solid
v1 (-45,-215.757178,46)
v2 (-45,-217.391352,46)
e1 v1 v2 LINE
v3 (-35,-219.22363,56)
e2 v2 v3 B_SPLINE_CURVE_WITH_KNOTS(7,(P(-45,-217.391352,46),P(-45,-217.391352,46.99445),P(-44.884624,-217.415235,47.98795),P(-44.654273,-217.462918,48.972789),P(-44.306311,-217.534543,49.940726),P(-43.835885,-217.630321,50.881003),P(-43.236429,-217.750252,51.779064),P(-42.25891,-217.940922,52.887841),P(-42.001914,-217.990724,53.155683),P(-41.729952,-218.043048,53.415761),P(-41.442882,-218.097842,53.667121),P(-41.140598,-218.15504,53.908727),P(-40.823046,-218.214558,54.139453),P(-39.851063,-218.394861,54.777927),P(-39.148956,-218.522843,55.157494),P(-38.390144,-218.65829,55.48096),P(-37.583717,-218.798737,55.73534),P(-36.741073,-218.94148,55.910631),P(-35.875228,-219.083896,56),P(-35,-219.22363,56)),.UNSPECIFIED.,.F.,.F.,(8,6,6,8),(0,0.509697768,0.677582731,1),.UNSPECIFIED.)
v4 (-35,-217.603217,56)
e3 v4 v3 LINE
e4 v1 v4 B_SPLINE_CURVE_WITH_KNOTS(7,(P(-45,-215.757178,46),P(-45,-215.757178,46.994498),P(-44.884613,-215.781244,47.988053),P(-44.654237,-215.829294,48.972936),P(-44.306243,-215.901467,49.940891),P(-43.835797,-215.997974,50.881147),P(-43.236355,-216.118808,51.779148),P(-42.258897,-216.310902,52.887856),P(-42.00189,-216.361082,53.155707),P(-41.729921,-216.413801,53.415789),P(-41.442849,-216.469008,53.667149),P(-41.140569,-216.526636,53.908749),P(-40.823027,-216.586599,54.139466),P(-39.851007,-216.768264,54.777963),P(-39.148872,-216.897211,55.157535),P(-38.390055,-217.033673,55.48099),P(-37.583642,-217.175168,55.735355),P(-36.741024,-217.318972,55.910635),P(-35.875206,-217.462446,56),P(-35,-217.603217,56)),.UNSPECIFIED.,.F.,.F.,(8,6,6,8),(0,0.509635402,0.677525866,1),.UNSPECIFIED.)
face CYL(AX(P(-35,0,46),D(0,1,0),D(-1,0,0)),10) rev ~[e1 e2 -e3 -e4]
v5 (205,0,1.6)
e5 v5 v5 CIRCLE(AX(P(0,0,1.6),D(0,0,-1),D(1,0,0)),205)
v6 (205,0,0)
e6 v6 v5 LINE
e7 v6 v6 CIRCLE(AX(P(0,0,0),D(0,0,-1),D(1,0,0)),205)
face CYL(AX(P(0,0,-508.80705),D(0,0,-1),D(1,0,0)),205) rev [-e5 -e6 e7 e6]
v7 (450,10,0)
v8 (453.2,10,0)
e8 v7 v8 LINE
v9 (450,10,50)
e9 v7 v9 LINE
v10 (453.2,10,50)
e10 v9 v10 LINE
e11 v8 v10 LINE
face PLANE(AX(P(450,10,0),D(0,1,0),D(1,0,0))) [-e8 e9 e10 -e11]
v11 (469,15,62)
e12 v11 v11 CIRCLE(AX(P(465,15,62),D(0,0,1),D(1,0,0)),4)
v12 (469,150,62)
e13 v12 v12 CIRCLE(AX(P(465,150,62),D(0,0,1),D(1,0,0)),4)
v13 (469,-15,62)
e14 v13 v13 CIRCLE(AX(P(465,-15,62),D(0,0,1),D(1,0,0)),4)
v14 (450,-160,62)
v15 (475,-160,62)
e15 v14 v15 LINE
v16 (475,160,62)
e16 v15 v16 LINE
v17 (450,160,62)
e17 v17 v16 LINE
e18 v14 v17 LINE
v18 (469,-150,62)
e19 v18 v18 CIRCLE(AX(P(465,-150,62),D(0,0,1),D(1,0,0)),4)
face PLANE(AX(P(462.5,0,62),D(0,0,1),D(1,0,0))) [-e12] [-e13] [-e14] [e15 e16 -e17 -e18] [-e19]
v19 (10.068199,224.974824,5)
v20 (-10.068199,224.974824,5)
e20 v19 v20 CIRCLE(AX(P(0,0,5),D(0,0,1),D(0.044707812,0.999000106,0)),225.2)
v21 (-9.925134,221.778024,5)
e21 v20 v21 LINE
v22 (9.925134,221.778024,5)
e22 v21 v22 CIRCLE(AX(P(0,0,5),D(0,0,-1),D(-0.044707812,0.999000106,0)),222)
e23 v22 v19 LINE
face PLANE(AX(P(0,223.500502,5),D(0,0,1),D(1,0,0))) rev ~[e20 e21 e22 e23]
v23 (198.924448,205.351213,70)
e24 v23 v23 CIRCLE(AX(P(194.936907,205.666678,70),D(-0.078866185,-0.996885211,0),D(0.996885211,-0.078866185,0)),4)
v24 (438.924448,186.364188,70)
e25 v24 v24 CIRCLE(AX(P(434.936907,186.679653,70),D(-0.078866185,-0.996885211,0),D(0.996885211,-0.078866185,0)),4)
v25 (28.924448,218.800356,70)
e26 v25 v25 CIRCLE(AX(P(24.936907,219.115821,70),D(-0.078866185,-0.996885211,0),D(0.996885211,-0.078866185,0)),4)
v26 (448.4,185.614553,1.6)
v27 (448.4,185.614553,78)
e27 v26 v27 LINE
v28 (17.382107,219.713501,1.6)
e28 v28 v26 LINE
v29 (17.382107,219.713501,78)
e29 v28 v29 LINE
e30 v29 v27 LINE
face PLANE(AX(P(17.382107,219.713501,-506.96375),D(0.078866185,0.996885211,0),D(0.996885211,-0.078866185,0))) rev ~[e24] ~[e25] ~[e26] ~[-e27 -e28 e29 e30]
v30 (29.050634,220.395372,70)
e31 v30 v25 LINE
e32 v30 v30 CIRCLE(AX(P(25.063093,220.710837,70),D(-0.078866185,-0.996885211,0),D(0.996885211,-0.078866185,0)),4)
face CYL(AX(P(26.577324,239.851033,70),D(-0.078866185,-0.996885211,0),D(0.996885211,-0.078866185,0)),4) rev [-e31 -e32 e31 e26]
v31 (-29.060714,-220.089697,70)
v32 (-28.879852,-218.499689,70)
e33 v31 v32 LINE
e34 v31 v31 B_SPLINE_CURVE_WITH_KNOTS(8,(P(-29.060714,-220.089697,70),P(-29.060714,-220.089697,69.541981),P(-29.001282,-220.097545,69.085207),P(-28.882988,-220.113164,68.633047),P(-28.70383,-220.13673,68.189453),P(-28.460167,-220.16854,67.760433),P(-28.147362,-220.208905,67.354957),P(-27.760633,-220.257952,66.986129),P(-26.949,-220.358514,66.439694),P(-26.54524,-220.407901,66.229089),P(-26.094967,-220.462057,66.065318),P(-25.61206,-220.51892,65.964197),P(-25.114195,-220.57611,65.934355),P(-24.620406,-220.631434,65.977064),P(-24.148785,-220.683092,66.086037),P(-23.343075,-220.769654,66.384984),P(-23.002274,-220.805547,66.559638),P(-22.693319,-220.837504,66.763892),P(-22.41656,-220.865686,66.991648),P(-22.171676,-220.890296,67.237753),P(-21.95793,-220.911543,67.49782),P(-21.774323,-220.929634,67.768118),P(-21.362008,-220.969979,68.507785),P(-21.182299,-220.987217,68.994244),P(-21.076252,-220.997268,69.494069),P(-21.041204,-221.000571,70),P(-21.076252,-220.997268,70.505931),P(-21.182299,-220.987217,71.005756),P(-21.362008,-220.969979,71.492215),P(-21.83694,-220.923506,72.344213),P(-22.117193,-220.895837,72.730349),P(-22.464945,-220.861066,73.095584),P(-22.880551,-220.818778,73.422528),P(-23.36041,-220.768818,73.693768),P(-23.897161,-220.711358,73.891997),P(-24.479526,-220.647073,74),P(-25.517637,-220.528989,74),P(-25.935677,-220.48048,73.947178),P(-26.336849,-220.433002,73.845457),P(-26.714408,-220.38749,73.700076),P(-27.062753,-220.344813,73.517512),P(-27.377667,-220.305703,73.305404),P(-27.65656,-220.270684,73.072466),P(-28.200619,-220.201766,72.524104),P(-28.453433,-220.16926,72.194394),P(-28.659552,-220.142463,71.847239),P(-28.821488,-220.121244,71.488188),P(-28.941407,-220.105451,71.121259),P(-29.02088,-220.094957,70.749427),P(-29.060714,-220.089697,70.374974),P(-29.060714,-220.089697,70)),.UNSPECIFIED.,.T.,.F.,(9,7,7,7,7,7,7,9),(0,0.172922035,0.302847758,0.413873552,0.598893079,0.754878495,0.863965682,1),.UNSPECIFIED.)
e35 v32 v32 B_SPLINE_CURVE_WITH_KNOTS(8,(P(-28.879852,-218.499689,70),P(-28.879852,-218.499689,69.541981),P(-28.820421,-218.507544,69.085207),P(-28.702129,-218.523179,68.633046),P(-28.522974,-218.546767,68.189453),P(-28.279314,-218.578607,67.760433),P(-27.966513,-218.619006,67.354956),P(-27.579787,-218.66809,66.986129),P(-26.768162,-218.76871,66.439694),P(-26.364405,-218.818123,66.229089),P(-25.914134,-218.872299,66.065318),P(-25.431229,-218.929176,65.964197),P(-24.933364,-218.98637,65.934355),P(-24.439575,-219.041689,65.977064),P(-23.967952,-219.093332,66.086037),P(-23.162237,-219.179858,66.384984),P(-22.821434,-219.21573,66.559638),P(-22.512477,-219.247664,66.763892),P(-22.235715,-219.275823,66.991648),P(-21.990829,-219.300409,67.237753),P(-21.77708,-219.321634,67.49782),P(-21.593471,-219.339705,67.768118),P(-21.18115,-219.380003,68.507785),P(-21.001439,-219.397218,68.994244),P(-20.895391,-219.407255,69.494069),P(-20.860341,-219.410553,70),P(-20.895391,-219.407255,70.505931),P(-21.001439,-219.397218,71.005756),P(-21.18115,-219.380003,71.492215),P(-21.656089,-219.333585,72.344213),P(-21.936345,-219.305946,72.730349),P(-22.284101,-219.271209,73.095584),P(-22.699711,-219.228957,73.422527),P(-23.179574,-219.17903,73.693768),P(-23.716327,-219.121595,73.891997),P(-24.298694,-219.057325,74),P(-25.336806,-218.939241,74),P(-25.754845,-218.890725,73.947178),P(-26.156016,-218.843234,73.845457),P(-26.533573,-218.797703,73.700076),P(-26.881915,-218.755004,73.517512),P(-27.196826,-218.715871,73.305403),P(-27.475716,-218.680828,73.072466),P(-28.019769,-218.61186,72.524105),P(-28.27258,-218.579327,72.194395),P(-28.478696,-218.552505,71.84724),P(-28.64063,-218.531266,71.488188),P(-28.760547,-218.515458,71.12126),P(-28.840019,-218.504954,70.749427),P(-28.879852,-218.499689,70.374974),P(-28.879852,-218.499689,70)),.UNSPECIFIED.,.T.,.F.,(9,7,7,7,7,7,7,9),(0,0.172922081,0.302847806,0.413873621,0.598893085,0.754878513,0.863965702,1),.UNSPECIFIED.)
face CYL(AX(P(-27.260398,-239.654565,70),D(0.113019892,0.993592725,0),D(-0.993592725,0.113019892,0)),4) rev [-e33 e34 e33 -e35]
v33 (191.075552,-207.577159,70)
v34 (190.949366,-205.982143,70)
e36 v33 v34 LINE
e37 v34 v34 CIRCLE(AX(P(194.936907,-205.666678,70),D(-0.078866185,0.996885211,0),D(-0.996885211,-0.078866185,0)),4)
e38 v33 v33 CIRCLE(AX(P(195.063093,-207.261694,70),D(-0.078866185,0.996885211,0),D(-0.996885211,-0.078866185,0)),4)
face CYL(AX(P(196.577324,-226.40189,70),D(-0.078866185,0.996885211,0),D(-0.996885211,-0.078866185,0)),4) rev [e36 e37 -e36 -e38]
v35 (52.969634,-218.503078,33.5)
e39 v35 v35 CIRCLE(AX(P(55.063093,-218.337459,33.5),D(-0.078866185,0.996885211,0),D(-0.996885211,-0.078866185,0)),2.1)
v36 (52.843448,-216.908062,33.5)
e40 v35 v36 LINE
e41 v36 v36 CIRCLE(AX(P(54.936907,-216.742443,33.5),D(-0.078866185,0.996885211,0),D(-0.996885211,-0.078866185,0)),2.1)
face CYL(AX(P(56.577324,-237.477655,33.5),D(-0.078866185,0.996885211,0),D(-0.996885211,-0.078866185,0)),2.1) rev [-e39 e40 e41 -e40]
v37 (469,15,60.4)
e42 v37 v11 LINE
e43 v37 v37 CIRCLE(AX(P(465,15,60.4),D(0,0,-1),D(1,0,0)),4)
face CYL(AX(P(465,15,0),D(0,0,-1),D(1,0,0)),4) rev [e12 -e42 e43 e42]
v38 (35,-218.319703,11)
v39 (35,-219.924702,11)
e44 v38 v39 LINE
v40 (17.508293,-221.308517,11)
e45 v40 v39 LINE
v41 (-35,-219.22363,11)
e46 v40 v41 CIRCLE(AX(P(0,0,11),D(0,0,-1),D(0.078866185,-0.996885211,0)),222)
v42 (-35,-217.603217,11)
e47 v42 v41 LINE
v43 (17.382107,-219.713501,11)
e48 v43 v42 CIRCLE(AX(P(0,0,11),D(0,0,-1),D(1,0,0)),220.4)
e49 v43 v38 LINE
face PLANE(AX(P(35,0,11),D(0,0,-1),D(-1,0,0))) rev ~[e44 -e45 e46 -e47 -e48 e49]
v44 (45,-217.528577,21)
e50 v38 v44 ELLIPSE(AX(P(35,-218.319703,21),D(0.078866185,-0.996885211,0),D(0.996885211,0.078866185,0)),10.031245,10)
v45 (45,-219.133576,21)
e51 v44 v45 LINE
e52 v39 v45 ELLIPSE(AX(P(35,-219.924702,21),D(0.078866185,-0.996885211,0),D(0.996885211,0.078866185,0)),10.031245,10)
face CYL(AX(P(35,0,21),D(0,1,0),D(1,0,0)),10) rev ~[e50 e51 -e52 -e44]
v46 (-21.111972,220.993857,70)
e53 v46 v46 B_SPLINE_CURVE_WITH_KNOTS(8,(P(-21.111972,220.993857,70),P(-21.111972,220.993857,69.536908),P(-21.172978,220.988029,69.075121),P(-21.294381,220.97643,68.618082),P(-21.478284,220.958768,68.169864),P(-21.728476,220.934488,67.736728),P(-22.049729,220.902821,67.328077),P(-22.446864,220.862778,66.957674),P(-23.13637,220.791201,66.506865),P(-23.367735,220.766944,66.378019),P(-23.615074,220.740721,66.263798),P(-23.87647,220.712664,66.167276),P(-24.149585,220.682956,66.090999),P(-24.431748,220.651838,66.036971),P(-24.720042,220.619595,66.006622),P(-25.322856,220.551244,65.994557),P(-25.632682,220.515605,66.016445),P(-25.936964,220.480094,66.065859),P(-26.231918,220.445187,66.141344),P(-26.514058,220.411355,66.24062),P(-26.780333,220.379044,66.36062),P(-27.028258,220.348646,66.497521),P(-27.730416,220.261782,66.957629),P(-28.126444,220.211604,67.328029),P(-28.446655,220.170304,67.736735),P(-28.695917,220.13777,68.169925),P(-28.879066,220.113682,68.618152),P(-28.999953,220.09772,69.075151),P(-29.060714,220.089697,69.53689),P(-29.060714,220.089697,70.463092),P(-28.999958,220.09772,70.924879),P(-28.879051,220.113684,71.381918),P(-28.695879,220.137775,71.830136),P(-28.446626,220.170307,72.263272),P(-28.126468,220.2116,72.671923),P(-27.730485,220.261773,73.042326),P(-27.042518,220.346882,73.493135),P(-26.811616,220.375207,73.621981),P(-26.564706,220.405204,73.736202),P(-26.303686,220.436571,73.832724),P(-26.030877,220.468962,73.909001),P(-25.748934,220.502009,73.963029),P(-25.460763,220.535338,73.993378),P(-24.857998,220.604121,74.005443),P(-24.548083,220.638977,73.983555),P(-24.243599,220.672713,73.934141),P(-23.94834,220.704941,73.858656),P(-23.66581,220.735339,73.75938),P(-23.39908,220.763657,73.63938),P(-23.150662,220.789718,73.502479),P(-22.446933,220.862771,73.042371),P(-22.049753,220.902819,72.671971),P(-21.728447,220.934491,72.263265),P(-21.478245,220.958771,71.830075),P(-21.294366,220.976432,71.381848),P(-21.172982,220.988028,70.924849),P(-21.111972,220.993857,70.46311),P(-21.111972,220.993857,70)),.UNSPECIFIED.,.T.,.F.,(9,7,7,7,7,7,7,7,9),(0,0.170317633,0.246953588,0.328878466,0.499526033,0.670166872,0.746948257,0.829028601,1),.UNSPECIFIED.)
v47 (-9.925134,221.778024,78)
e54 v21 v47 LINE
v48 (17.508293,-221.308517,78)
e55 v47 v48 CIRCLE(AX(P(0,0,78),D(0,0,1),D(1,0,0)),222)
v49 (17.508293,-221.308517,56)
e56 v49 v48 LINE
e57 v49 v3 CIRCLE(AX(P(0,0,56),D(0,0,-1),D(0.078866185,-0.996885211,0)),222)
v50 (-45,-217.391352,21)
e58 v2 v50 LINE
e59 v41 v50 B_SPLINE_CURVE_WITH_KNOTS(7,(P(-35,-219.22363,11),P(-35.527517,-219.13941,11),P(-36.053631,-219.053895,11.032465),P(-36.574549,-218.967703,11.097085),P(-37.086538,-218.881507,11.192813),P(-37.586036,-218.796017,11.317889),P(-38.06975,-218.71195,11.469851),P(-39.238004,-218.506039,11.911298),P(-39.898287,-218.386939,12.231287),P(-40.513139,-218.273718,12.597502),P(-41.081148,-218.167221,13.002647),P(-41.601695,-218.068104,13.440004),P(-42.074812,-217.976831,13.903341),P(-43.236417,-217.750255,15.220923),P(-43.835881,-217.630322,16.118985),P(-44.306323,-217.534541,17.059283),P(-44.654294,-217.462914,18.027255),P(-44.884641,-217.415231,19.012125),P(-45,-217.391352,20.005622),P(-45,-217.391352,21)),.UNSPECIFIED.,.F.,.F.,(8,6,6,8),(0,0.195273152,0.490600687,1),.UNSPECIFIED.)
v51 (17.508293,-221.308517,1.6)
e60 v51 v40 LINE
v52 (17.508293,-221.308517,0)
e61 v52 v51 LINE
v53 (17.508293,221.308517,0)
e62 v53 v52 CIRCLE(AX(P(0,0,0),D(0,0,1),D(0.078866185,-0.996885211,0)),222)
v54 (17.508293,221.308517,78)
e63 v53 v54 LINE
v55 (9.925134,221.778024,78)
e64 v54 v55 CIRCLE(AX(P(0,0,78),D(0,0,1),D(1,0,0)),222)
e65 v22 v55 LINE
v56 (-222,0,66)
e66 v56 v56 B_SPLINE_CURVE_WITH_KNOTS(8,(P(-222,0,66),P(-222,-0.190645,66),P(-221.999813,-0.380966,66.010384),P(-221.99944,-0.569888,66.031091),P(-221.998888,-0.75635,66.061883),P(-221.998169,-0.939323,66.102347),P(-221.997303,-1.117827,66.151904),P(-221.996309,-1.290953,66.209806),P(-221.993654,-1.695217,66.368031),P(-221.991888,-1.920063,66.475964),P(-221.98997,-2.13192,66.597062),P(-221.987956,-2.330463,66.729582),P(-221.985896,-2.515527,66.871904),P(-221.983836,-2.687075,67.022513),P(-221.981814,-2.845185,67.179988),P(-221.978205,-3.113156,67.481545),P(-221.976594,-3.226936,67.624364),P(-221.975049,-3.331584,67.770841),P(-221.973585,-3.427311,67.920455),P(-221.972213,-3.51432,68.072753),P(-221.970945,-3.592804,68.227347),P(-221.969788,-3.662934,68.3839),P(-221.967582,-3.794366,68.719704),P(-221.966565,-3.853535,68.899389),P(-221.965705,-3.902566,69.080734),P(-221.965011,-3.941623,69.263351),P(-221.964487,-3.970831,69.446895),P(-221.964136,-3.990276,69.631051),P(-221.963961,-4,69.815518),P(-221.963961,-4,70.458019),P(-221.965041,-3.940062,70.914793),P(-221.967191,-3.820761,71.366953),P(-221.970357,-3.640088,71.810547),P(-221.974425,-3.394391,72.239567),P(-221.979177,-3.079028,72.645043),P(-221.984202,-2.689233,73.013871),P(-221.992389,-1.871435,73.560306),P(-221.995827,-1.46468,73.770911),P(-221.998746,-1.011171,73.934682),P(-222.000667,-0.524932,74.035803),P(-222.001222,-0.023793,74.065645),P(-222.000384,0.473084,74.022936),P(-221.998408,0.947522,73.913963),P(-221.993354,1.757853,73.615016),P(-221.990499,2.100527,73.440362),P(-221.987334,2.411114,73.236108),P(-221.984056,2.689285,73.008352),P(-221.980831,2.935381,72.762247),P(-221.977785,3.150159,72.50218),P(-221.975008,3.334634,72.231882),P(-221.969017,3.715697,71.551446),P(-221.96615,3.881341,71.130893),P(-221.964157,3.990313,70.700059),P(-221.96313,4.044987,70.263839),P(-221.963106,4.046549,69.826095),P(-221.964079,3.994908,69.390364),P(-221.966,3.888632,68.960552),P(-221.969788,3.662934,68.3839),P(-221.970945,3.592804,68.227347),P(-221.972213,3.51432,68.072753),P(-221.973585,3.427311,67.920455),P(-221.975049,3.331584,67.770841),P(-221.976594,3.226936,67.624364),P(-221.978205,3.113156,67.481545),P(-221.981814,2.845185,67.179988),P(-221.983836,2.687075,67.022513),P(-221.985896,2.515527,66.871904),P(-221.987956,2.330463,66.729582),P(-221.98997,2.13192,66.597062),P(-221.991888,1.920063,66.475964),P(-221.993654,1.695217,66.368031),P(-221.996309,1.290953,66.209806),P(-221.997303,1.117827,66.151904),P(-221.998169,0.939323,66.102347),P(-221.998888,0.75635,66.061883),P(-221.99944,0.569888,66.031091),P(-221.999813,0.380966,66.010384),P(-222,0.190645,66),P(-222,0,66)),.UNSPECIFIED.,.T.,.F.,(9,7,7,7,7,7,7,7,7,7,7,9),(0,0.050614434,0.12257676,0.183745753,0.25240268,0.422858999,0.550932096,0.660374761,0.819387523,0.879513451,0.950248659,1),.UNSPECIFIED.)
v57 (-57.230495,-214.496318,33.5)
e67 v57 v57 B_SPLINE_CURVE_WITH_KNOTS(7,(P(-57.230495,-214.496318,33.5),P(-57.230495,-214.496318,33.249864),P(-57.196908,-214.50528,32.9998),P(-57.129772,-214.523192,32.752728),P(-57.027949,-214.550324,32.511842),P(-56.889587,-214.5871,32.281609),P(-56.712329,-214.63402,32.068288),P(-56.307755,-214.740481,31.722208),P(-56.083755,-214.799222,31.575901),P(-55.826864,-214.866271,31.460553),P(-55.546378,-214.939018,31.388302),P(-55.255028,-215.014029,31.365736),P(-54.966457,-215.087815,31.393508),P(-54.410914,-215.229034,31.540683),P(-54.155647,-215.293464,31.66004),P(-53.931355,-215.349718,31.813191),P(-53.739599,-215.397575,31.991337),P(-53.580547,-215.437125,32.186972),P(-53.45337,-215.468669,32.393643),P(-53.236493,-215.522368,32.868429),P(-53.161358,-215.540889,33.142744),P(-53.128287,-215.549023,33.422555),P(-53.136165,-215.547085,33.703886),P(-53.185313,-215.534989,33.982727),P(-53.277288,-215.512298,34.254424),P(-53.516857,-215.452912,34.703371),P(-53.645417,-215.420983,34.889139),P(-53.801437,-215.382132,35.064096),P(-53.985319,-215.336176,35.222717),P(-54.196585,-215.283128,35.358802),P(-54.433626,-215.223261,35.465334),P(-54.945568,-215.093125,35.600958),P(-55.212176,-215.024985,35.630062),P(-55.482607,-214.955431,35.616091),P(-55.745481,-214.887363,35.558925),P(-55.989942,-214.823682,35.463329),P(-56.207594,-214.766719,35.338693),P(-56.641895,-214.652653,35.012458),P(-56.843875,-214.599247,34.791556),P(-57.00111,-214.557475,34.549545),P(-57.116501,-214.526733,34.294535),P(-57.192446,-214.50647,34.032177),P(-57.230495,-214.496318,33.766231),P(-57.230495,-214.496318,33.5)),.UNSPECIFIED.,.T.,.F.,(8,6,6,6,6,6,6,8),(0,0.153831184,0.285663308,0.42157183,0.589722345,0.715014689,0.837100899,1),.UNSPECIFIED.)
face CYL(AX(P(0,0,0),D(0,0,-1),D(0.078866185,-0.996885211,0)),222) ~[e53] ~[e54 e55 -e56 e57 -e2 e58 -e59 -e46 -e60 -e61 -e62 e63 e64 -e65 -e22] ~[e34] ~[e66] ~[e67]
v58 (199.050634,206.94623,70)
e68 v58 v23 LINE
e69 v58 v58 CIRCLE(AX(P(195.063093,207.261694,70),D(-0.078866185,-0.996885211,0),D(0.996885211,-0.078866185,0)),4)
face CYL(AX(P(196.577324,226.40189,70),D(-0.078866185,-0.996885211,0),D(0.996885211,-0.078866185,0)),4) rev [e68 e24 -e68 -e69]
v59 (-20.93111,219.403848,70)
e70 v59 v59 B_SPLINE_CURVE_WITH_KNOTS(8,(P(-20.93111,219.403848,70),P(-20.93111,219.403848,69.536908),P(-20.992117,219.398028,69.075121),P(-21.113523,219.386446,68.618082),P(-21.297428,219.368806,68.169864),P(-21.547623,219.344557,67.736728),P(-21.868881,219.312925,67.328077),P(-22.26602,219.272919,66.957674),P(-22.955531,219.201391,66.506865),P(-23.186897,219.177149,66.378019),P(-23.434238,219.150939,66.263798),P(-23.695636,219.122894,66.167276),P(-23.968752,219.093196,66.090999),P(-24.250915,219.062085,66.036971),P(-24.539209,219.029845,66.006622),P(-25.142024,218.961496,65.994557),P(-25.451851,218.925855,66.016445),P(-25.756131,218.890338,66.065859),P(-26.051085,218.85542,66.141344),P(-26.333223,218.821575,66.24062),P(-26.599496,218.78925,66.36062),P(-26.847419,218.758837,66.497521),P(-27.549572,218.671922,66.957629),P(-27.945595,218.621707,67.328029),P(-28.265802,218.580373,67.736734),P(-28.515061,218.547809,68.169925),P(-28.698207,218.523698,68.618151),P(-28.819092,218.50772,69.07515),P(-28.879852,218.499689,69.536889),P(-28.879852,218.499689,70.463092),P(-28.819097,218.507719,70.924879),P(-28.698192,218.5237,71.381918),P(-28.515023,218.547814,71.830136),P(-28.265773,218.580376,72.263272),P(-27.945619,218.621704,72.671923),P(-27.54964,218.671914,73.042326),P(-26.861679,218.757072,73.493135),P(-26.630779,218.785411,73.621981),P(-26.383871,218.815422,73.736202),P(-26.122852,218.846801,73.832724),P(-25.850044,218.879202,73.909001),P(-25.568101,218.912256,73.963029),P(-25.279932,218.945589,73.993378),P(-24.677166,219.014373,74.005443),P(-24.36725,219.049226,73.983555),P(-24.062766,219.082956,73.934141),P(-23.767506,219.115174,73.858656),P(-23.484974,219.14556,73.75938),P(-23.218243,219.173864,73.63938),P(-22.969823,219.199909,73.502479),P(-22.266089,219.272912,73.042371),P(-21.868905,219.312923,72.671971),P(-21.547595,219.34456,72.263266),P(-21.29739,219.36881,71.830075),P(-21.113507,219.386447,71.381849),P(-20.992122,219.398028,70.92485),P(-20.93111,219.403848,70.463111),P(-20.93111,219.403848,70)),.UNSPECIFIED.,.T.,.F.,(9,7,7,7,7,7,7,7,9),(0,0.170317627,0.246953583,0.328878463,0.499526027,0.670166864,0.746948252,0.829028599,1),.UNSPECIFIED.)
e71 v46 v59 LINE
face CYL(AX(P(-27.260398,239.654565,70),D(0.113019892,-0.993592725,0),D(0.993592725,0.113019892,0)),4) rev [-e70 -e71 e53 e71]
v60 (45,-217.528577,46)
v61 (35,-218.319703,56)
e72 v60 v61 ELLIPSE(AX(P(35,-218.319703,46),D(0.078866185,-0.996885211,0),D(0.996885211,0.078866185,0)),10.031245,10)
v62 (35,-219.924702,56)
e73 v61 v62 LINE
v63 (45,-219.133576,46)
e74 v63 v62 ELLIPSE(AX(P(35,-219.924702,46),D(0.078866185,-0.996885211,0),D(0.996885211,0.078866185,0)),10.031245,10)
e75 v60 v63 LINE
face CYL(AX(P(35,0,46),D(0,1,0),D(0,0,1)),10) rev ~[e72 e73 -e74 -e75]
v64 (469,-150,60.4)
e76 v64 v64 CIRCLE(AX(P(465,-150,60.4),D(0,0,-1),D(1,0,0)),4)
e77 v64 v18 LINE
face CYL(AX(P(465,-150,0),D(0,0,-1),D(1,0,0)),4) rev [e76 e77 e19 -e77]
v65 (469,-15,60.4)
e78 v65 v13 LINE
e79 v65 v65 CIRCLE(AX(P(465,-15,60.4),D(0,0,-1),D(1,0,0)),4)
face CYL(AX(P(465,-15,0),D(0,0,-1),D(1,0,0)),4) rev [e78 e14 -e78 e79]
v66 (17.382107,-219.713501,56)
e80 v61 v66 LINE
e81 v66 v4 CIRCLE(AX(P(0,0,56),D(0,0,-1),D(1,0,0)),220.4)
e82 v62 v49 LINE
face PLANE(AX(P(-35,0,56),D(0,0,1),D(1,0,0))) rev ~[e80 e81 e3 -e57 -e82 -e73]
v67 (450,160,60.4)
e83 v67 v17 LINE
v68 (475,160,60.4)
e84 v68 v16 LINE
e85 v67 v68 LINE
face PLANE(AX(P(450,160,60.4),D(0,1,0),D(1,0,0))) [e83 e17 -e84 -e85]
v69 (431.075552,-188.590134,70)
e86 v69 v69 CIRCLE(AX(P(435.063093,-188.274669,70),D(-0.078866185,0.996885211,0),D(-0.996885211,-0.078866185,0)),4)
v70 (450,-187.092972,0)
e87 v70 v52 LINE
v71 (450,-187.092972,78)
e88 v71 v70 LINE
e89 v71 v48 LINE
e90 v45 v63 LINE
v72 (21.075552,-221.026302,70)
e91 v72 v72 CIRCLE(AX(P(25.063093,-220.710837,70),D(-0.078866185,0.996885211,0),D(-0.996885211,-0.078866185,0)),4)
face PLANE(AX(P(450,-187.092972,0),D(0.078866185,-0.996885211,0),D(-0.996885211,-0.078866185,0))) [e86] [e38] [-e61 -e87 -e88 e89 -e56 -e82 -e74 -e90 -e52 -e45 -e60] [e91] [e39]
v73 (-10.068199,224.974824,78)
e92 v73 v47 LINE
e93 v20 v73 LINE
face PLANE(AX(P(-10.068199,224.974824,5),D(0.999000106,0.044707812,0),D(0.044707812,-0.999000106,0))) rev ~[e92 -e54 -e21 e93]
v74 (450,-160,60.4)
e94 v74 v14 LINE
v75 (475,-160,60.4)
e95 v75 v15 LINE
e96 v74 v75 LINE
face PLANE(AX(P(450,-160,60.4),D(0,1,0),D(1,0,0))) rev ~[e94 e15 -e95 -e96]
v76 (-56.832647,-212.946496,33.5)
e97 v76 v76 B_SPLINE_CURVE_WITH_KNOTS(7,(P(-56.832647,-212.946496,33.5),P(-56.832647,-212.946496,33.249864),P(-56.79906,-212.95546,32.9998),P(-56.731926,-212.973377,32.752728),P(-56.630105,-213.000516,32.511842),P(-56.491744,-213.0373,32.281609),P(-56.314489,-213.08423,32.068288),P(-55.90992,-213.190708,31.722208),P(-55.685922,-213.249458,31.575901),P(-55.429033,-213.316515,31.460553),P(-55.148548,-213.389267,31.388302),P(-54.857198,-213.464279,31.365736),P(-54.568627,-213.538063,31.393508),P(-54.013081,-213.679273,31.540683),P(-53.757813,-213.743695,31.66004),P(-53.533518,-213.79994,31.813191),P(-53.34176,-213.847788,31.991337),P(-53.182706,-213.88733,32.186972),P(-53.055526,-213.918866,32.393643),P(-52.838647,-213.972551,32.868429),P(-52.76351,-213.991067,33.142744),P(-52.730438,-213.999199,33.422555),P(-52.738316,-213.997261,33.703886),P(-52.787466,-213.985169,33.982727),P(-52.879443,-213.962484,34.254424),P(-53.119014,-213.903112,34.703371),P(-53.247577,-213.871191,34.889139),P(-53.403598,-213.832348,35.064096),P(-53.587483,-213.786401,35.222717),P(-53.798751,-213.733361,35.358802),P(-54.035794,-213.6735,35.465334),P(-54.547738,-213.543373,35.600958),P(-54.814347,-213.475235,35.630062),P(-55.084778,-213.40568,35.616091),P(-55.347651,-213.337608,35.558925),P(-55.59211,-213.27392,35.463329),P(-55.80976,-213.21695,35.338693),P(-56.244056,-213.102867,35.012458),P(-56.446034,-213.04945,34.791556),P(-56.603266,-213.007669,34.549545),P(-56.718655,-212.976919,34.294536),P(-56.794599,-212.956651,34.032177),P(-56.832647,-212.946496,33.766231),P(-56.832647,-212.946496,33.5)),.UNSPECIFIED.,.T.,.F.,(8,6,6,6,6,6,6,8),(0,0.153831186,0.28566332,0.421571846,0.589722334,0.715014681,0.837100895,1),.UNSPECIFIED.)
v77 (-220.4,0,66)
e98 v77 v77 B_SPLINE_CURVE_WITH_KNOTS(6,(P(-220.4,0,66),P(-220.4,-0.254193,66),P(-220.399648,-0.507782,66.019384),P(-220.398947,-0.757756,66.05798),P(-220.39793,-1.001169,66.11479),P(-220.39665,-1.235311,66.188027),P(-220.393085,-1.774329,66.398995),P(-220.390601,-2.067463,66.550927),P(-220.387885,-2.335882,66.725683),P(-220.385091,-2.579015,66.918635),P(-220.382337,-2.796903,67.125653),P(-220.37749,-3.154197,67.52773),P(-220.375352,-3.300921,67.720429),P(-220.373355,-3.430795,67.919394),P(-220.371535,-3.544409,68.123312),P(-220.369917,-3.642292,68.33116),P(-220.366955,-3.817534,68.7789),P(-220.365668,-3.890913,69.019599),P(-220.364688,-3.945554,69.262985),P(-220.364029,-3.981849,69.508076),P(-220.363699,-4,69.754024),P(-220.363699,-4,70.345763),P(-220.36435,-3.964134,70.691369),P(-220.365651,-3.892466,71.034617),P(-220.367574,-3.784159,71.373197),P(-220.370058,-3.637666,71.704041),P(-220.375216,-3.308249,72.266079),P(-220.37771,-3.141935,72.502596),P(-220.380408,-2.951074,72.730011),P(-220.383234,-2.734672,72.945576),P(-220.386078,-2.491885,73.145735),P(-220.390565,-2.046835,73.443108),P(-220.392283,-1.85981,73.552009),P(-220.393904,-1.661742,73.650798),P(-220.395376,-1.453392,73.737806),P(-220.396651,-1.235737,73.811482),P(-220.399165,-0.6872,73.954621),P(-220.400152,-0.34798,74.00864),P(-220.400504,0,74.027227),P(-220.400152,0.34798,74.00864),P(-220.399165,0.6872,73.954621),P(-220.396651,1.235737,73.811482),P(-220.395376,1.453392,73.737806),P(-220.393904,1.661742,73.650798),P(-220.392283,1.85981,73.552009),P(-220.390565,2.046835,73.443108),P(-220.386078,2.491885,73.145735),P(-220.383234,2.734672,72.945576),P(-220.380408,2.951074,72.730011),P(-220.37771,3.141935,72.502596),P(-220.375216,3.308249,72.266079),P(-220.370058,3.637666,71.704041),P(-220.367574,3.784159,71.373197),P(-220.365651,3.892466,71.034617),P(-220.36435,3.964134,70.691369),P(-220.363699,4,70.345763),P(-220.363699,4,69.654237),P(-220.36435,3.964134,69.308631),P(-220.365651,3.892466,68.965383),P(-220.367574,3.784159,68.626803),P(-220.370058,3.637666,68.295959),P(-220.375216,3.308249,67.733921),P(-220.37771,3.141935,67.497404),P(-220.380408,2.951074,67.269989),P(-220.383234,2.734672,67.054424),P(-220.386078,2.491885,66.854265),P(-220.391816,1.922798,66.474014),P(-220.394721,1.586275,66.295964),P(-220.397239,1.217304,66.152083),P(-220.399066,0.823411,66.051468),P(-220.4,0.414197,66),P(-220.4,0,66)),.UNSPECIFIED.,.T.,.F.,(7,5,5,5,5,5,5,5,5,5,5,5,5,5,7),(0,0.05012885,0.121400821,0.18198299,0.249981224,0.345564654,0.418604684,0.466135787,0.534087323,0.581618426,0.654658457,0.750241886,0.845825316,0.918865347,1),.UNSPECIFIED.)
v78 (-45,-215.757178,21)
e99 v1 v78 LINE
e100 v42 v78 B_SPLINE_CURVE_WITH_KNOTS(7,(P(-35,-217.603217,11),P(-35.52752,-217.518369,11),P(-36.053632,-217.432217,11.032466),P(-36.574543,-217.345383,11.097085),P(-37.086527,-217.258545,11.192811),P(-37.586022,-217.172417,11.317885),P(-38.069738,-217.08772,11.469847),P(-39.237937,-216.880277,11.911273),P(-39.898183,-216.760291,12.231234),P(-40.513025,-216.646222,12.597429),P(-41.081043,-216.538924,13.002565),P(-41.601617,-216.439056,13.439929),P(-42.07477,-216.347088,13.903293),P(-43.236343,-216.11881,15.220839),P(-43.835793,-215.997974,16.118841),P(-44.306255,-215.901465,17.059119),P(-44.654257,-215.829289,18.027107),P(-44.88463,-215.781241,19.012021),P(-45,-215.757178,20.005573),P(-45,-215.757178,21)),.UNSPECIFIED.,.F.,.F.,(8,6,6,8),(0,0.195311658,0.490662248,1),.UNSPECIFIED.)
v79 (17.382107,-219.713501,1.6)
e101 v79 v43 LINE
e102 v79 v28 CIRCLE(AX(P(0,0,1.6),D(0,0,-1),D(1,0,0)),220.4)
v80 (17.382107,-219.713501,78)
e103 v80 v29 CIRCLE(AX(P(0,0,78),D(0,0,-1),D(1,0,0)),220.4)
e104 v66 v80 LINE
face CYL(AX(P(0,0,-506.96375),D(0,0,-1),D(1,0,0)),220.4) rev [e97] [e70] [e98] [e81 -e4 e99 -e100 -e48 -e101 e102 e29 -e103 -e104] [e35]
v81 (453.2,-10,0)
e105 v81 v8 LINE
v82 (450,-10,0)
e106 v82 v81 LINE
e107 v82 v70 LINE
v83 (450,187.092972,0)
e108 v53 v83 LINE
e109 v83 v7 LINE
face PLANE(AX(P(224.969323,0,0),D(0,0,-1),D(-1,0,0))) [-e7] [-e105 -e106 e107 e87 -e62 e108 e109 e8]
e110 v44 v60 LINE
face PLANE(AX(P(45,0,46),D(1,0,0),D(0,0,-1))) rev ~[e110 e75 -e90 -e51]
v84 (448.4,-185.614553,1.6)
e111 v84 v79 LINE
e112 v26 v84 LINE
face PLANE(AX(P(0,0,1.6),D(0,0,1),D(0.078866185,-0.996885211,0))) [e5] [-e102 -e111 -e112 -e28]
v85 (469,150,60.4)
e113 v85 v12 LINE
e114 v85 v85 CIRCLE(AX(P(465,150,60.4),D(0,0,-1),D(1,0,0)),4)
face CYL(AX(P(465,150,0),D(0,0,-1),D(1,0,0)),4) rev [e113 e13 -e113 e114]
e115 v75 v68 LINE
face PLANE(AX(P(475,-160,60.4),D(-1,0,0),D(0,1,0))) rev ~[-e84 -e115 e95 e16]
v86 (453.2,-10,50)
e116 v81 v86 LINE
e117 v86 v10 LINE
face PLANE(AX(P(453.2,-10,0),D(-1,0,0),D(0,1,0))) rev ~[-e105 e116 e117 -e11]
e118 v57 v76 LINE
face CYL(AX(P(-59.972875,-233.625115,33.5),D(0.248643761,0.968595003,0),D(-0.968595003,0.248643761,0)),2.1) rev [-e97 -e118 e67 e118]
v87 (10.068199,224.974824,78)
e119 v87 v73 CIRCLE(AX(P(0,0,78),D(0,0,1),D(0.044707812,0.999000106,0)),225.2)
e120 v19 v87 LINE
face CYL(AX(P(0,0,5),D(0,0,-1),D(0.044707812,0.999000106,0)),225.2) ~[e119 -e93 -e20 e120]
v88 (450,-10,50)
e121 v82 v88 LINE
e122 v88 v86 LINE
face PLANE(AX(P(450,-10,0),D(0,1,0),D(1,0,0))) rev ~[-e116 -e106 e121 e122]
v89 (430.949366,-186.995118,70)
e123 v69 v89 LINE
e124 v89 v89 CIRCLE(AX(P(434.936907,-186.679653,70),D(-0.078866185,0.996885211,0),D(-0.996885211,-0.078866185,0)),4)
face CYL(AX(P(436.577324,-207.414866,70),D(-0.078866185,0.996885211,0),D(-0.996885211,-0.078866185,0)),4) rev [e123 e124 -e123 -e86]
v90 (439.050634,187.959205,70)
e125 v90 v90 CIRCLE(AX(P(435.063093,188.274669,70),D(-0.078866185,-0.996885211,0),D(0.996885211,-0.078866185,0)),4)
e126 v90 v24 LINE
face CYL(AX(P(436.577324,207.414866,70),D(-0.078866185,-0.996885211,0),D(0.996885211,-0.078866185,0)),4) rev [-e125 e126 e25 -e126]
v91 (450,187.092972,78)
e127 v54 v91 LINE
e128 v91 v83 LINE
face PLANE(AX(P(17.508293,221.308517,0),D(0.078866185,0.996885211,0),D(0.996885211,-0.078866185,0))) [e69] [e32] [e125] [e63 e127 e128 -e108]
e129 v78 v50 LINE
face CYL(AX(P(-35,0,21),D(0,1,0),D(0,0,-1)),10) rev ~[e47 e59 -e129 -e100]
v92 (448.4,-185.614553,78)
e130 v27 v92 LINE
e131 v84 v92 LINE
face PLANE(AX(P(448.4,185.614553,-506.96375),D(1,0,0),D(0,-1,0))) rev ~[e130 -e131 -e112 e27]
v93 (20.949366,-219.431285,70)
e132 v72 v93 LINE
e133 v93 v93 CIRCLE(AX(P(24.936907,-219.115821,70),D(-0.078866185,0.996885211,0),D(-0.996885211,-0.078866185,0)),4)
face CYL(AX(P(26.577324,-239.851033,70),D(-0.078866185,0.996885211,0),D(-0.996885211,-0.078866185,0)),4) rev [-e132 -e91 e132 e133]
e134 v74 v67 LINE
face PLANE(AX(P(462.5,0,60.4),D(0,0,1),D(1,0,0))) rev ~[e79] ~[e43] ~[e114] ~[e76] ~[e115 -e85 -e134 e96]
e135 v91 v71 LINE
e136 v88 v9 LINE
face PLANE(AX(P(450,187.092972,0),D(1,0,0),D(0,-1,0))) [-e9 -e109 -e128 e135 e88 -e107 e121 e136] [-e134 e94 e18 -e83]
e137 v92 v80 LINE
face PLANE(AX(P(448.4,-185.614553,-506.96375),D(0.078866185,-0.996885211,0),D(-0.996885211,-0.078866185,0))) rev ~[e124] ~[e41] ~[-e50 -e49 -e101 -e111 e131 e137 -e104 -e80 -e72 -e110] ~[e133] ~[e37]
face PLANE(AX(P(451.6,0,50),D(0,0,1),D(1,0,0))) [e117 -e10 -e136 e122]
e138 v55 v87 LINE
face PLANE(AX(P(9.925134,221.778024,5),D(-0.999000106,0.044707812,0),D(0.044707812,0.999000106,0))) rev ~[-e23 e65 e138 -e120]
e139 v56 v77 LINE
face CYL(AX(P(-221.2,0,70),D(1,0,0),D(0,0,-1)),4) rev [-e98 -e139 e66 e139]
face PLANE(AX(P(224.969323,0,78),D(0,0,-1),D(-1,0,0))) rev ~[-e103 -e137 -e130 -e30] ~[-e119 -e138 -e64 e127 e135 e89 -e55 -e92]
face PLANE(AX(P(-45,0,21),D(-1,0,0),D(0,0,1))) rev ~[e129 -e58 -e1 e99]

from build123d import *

# Parameters (mm, degrees)
SKETCH_1_R               = 222
EXTRUDE_1_DEPTH          = 76.4
EXTRUDE_2_DEPTH          = 76.4
CUT_EXTRUDE_1_DEPTH      = 508.563749691
CUT_EXTRUDE_1_DEPTH_BACK = 508.563749691
SKETCH_3_R               = 220.4
CUT_EXTRUDE_2_DEPTH      = 508.563749691
CUT_EXTRUDE_2_DEPTH_BACK = 508.563749691
SKETCH_5_R               = 222
EXTRUDE_3_DEPTH          = 1.6
EXTRUDE_4_DEPTH          = 1.6
CUT_EXTRUDE_3_DEPTH      = 508.807049971
CUT_EXTRUDE_3_DEPTH_BACK = 508.807049971
SKETCH_7_R               = 205
SKETCH_8_W               = 25
SKETCH_8_H               = 320
EXTRUDE_5_DEPTH          = 1.6
SKETCH_9_W               = 3.2
SKETCH_9_H               = 20
EXTRUDE_6_DEPTH          = 50
EXTRUDE_7_DEPTH          = 73
SKETCH_19_W              = 40
SKETCH_19_H              = 4
SKETCH_21_R              = 4
CUT_EXTRUDE_5_DEPTH      = 62
CUT_EXTRUDE_6_DEPTH      = 240


with BuildPart() as part:
    # ｽｹｯﾁ1 → ﾎﾞｽ - 押し出し1 (new body)
    with BuildSketch(Plane.XY.offset(1.6)):
        Circle(SKETCH_1_R)
    extrude(amount=EXTRUDE_1_DEPTH)

    # ｽｹｯﾁ2 → ﾎﾞｽ - 押し出し2 (add)
    with BuildSketch(Plane.XY.offset(1.6)):
        Polygon((17.508293028, 221.308516951), (450, 187.092971873), (450, -187.092971873), (17.508293028, -221.308516951), align=None)
    extrude(amount=EXTRUDE_2_DEPTH)

    # ｽｹｯﾁ3 → ｶｯﾄ - 押し出し1 (cut, two sides: drawn at the far end of the back side and taken through both)
    with BuildSketch(Plane.XY.offset(1.6).offset(-CUT_EXTRUDE_1_DEPTH_BACK)):
        Circle(SKETCH_3_R)
    extrude(amount=CUT_EXTRUDE_1_DEPTH + CUT_EXTRUDE_1_DEPTH_BACK, mode=Mode.SUBTRACT)

    # ｽｹｯﾁ4 → ｶｯﾄ - 押し出し2 (cut, two sides: drawn at the far end of the back side and taken through both)
    with BuildSketch(Plane.XY.offset(1.6).offset(-CUT_EXTRUDE_2_DEPTH_BACK)):
        Polygon((17.382107132, 219.713500613), (448.4, 185.614552806), (448.4, -185.614552806), (17.382107132, -219.713500613), align=None)
    extrude(amount=CUT_EXTRUDE_2_DEPTH + CUT_EXTRUDE_2_DEPTH_BACK, mode=Mode.SUBTRACT)

    # ｽｹｯﾁ5 → ﾎﾞｽ - 押し出し3 (add)
    with BuildSketch(Plane.XY):
        with Locations(Location((0, 0, 0), (0, 0, 274.523396987))):
            Circle(SKETCH_5_R)
    extrude(amount=EXTRUDE_3_DEPTH)

    # ｽｹｯﾁ6 → ﾎﾞｽ - 押し出し4 (add)
    with BuildSketch(Plane.XY):
        Polygon((17.508293028, 221.308516951), (450, 187.092971873), (450, -187.092971873), (17.508293028, -221.308516951), align=None)
    extrude(amount=EXTRUDE_4_DEPTH)

    # ｽｹｯﾁ7 → ｶｯﾄ - 押し出し3 (cut, two sides: drawn at the far end of the back side and taken through both)
    with BuildSketch(Plane.XY.offset(-CUT_EXTRUDE_3_DEPTH_BACK)):
        Circle(SKETCH_7_R)
    extrude(amount=CUT_EXTRUDE_3_DEPTH + CUT_EXTRUDE_3_DEPTH_BACK, mode=Mode.SUBTRACT)

    # ｽｹｯﾁ8 → ﾎﾞｽ - 押し出し5 (add)
    with BuildSketch(Plane.XY.offset(60.4)):
        with Locations((462.5, 0)):
            Rectangle(SKETCH_8_W, SKETCH_8_H)
    extrude(amount=EXTRUDE_5_DEPTH)

    # ｽｹｯﾁ9 → ﾎﾞｽ - 押し出し6 (add)
    with BuildSketch(Plane.XY):
        with Locations((451.6, 0)):
            Rectangle(SKETCH_9_W, SKETCH_9_H)
    extrude(amount=EXTRUDE_6_DEPTH)

    # ｽｹｯﾁ10 → ﾎﾞｽ - 押し出し7 (add)
    with BuildSketch(Plane.XY.offset(5)):
        with BuildLine():
            Line((9.925134298, 221.778023504), (10.068199297, 224.974823842))
            ThreePointArc((10.068199297, 224.974823842), (0, 225.2), (-10.068199297, 224.974823842))
            Line((-10.068199297, 224.974823842), (-9.925134298, 221.778023504))
            ThreePointArc((-9.925134298, 221.778023504), (0, 222), (9.925134298, 221.778023504))
        make_face()
    extrude(amount=EXTRUDE_7_DEPTH)

    # ｽｹｯﾁ11 → ｶｯﾄ - 回転1 (revolve, cut)
    with BuildSketch(Plane.XY.offset(70), mode=Mode.PRIVATE) as cut_revolve_1_sk:
        Polygon((-22.73960217, 199.910856366), (-27.26039783, 239.654565386), (-31.234768732, 239.20248582), (-26.713973072, 199.4587768), align=None)
    revolve(cut_revolve_1_sk.sketch.rotate(Axis((-22.73960217, 199.910856366, 70), (-0.11301989150090416, 0.9935927254791693, 0)), 180), axis=Axis((-22.73960217, 199.910856366, 70), (-0.11301989150090416, 0.9935927254791693, 0)), mode=Mode.SUBTRACT)

    # ｽｹｯﾁ12 → ｶｯﾄ - 回転2 (revolve, cut)
    with BuildSketch(Plane.XY.offset(70), mode=Mode.PRIVATE) as cut_revolve_2_sk:
        Polygon((23.422676304, 199.975624659), (26.577323696, 239.851033119), (22.58978285, 240.166497858), (19.435135458, 200.291089398), align=None)
    revolve(cut_revolve_2_sk.sketch.rotate(Axis((23.422676304, 199.975624659, 70), (0.07886618481164225, 0.996885211492906, 0)), 180), axis=Axis((23.422676304, 199.975624659, 70), (0.07886618481164225, 0.996885211492906, 0)), mode=Mode.SUBTRACT)

    # ｽｹｯﾁ13 → ｶｯﾄ - 回転3 (revolve, cut)
    with BuildSketch(Plane.XY.offset(70), mode=Mode.PRIVATE) as cut_revolve_3_sk:
        Polygon((193.422676304, 186.526482006), (196.577323696, 226.401890466), (192.58978285, 226.717355205), (189.435135458, 186.841946746), align=None)
    revolve(cut_revolve_3_sk.sketch.rotate(Axis((193.422676304, 186.526482006, 70), (0.078866184811642, 0.9968852114929061, 0)), 180), axis=Axis((193.422676304, 186.526482006, 70), (0.078866184811642, 0.9968852114929061, 0)), mode=Mode.SUBTRACT)

    # ｽｹｯﾁ14 → ｶｯﾄ - 回転4 (revolve, cut)
    with BuildSketch(Plane.XY.offset(70), mode=Mode.PRIVATE) as cut_revolve_4_sk:
        Polygon((433.422676304, 167.539457084), (436.577323696, 207.414865544), (432.58978285, 207.730330283), (429.435135458, 167.854921824), align=None)
    revolve(cut_revolve_4_sk.sketch.rotate(Axis((433.422676304, 167.539457084, 70), (0.07886618481164205, 0.9968852114929061, 0)), 180), axis=Axis((433.422676304, 167.539457084, 70), (0.07886618481164205, 0.9968852114929061, 0)), mode=Mode.SUBTRACT)

    # ｽｹｯﾁ15 → ｶｯﾄ - 回転5 (revolve, cut)
    with BuildSketch(Plane.XY.offset(70), mode=Mode.PRIVATE) as cut_revolve_5_sk:
        Polygon((-22.73960217, -199.910856366), (-27.26039783, -239.654565386), (-23.286026928, -240.106644952), (-18.765231268, -200.362935932), align=None)
    revolve(cut_revolve_5_sk.sketch.rotate(Axis((-22.73960217, -199.910856366, 70), (-0.11301989150090416, -0.9935927254791693, 0)), 180), axis=Axis((-22.73960217, -199.910856366, 70), (-0.11301989150090416, -0.9935927254791693, 0)), mode=Mode.SUBTRACT)

    # ｽｹｯﾁ16 → ｶｯﾄ - 回転6 (revolve, cut)
    with BuildSketch(Plane.XY.offset(70), mode=Mode.PRIVATE) as cut_revolve_6_sk:
        Polygon((23.422676304, -199.975624659), (26.577323696, -239.851033119), (30.564864542, -239.53556838), (27.41021715, -199.66015992), align=None)
    revolve(cut_revolve_6_sk.sketch.rotate(Axis((23.422676304, -199.975624659, 70), (0.07886618481164225, -0.996885211492906, 0)), 180), axis=Axis((23.422676304, -199.975624659, 70), (0.07886618481164225, -0.996885211492906, 0)), mode=Mode.SUBTRACT)

    # ｽｹｯﾁ17 → ｶｯﾄ - 回転7 (revolve, cut)
    with BuildSketch(Plane.XY.offset(70), mode=Mode.PRIVATE) as cut_revolve_7_sk:
        Polygon((193.422676304, -186.526482006), (196.577323696, -226.401890466), (200.564864542, -226.086425727), (197.41021715, -186.211017267), align=None)
    revolve(cut_revolve_7_sk.sketch.rotate(Axis((193.422676304, -186.526482006, 70), (0.078866184811642, -0.9968852114929061, 0)), 180), axis=Axis((193.422676304, -186.526482006, 70), (0.078866184811642, -0.9968852114929061, 0)), mode=Mode.SUBTRACT)

    # ｽｹｯﾁ18 → ｶｯﾄ - 回転8 (revolve, cut)
    with BuildSketch(Plane.XY.offset(70), mode=Mode.PRIVATE) as cut_revolve_8_sk:
        Polygon((433.422676304, -167.539457084), (436.577323696, -207.414865544), (440.564864542, -207.099400805), (437.41021715, -167.223992345), align=None)
    revolve(cut_revolve_8_sk.sketch.rotate(Axis((433.422676304, -167.539457084, 70), (0.07886618481164205, -0.9968852114929061, 0)), 180), axis=Axis((433.422676304, -167.539457084, 70), (0.07886618481164205, -0.9968852114929061, 0)), mode=Mode.SUBTRACT)

    # ｽｹｯﾁ19 → ｶｯﾄ - 回転9 (revolve, cut)
    with BuildSketch(Plane.XY.offset(70), mode=Mode.PRIVATE) as cut_revolve_9_sk:
        with Locations((-221.2, -2)):
            Rectangle(SKETCH_19_W, SKETCH_19_H)
    revolve(cut_revolve_9_sk.sketch.rotate(Axis((-201.2, 0, 70), (-1, 0, 0)), 270), axis=Axis((-201.2, 0, 70), (-1, 0, 0)), mode=Mode.SUBTRACT)

    # ｽｹｯﾁ21 → ｶｯﾄ - 押し出し5 (cut)
    with BuildSketch(Plane.XY):
        with Locations((465, -150)):
            Circle(SKETCH_21_R)
        with Locations((465, -15)):
            Circle(SKETCH_21_R)
        with Locations((465, 15)):
            Circle(SKETCH_21_R)
        with Locations((465, 150)):
            Circle(SKETCH_21_R)
    extrude(amount=CUT_EXTRUDE_5_DEPTH, mode=Mode.SUBTRACT)

    # ｽｹｯﾁ22 → ｶｯﾄ - 押し出し6 (cut)
    with BuildSketch(Plane(origin=(0, 0, 0), x_dir=(1, 0, 0), z_dir=(0, 1, 0))):
        with BuildLine():
            Line((-35, -56), (35, -56))
            ThreePointArc((35, -56), (42.071067812, -53.071067812), (45, -46))
            Line((45, -46), (45, -21))
            ThreePointArc((45, -21), (42.071067812, -13.928932188), (35, -11))
            Line((35, -11), (-35, -11))
            ThreePointArc((-35, -11), (-42.071067812, -13.928932188), (-45, -21))
            Line((-45, -21), (-45, -46))
            ThreePointArc((-45, -46), (-42.071067812, -53.071067812), (-35, -56))
        make_face()
    extrude(amount=-CUT_EXTRUDE_6_DEPTH, mode=Mode.SUBTRACT)

    # ｽｹｯﾁ23 → ｶｯﾄ - 回転10 (revolve, cut)
    with BuildSketch(Plane.XY.offset(33.5), mode=Mode.PRIVATE) as cut_revolve_10_sk:
        Polygon((-50.027124774, -194.881314617), (-59.972875226, -233.62511474), (-57.93882572, -234.147266638), (-47.993075268, -195.403466516), align=None)
    revolve(cut_revolve_10_sk.sketch.rotate(Axis((-50.027124774, -194.881314617, 33.5), (-0.24864376130198912, -0.9685950030666065, 0)), 180), axis=Axis((-50.027124774, -194.881314617, 33.5), (-0.24864376130198912, -0.9685950030666065, 0)), mode=Mode.SUBTRACT)

    # ｽｹｯﾁ24 → ｶｯﾄ - 回転11 (revolve, cut)
    with BuildSketch(Plane.XY.offset(33.5), mode=Mode.PRIVATE) as cut_revolve_11_sk:
        Polygon((53.422676304, -197.602246544), (56.577323696, -237.477655004), (58.67078264, -237.312036016), (55.516135248, -197.436627556), align=None)
    revolve(cut_revolve_11_sk.sketch.rotate(Axis((53.422676304, -197.602246544, 33.5), (0.07886618481164233, -0.996885211492906, 0)), 180), axis=Axis((53.422676304, -197.602246544, 33.5), (0.07886618481164233, -0.996885211492906, 0)), mode=Mode.SUBTRACT)


solid = part.part
